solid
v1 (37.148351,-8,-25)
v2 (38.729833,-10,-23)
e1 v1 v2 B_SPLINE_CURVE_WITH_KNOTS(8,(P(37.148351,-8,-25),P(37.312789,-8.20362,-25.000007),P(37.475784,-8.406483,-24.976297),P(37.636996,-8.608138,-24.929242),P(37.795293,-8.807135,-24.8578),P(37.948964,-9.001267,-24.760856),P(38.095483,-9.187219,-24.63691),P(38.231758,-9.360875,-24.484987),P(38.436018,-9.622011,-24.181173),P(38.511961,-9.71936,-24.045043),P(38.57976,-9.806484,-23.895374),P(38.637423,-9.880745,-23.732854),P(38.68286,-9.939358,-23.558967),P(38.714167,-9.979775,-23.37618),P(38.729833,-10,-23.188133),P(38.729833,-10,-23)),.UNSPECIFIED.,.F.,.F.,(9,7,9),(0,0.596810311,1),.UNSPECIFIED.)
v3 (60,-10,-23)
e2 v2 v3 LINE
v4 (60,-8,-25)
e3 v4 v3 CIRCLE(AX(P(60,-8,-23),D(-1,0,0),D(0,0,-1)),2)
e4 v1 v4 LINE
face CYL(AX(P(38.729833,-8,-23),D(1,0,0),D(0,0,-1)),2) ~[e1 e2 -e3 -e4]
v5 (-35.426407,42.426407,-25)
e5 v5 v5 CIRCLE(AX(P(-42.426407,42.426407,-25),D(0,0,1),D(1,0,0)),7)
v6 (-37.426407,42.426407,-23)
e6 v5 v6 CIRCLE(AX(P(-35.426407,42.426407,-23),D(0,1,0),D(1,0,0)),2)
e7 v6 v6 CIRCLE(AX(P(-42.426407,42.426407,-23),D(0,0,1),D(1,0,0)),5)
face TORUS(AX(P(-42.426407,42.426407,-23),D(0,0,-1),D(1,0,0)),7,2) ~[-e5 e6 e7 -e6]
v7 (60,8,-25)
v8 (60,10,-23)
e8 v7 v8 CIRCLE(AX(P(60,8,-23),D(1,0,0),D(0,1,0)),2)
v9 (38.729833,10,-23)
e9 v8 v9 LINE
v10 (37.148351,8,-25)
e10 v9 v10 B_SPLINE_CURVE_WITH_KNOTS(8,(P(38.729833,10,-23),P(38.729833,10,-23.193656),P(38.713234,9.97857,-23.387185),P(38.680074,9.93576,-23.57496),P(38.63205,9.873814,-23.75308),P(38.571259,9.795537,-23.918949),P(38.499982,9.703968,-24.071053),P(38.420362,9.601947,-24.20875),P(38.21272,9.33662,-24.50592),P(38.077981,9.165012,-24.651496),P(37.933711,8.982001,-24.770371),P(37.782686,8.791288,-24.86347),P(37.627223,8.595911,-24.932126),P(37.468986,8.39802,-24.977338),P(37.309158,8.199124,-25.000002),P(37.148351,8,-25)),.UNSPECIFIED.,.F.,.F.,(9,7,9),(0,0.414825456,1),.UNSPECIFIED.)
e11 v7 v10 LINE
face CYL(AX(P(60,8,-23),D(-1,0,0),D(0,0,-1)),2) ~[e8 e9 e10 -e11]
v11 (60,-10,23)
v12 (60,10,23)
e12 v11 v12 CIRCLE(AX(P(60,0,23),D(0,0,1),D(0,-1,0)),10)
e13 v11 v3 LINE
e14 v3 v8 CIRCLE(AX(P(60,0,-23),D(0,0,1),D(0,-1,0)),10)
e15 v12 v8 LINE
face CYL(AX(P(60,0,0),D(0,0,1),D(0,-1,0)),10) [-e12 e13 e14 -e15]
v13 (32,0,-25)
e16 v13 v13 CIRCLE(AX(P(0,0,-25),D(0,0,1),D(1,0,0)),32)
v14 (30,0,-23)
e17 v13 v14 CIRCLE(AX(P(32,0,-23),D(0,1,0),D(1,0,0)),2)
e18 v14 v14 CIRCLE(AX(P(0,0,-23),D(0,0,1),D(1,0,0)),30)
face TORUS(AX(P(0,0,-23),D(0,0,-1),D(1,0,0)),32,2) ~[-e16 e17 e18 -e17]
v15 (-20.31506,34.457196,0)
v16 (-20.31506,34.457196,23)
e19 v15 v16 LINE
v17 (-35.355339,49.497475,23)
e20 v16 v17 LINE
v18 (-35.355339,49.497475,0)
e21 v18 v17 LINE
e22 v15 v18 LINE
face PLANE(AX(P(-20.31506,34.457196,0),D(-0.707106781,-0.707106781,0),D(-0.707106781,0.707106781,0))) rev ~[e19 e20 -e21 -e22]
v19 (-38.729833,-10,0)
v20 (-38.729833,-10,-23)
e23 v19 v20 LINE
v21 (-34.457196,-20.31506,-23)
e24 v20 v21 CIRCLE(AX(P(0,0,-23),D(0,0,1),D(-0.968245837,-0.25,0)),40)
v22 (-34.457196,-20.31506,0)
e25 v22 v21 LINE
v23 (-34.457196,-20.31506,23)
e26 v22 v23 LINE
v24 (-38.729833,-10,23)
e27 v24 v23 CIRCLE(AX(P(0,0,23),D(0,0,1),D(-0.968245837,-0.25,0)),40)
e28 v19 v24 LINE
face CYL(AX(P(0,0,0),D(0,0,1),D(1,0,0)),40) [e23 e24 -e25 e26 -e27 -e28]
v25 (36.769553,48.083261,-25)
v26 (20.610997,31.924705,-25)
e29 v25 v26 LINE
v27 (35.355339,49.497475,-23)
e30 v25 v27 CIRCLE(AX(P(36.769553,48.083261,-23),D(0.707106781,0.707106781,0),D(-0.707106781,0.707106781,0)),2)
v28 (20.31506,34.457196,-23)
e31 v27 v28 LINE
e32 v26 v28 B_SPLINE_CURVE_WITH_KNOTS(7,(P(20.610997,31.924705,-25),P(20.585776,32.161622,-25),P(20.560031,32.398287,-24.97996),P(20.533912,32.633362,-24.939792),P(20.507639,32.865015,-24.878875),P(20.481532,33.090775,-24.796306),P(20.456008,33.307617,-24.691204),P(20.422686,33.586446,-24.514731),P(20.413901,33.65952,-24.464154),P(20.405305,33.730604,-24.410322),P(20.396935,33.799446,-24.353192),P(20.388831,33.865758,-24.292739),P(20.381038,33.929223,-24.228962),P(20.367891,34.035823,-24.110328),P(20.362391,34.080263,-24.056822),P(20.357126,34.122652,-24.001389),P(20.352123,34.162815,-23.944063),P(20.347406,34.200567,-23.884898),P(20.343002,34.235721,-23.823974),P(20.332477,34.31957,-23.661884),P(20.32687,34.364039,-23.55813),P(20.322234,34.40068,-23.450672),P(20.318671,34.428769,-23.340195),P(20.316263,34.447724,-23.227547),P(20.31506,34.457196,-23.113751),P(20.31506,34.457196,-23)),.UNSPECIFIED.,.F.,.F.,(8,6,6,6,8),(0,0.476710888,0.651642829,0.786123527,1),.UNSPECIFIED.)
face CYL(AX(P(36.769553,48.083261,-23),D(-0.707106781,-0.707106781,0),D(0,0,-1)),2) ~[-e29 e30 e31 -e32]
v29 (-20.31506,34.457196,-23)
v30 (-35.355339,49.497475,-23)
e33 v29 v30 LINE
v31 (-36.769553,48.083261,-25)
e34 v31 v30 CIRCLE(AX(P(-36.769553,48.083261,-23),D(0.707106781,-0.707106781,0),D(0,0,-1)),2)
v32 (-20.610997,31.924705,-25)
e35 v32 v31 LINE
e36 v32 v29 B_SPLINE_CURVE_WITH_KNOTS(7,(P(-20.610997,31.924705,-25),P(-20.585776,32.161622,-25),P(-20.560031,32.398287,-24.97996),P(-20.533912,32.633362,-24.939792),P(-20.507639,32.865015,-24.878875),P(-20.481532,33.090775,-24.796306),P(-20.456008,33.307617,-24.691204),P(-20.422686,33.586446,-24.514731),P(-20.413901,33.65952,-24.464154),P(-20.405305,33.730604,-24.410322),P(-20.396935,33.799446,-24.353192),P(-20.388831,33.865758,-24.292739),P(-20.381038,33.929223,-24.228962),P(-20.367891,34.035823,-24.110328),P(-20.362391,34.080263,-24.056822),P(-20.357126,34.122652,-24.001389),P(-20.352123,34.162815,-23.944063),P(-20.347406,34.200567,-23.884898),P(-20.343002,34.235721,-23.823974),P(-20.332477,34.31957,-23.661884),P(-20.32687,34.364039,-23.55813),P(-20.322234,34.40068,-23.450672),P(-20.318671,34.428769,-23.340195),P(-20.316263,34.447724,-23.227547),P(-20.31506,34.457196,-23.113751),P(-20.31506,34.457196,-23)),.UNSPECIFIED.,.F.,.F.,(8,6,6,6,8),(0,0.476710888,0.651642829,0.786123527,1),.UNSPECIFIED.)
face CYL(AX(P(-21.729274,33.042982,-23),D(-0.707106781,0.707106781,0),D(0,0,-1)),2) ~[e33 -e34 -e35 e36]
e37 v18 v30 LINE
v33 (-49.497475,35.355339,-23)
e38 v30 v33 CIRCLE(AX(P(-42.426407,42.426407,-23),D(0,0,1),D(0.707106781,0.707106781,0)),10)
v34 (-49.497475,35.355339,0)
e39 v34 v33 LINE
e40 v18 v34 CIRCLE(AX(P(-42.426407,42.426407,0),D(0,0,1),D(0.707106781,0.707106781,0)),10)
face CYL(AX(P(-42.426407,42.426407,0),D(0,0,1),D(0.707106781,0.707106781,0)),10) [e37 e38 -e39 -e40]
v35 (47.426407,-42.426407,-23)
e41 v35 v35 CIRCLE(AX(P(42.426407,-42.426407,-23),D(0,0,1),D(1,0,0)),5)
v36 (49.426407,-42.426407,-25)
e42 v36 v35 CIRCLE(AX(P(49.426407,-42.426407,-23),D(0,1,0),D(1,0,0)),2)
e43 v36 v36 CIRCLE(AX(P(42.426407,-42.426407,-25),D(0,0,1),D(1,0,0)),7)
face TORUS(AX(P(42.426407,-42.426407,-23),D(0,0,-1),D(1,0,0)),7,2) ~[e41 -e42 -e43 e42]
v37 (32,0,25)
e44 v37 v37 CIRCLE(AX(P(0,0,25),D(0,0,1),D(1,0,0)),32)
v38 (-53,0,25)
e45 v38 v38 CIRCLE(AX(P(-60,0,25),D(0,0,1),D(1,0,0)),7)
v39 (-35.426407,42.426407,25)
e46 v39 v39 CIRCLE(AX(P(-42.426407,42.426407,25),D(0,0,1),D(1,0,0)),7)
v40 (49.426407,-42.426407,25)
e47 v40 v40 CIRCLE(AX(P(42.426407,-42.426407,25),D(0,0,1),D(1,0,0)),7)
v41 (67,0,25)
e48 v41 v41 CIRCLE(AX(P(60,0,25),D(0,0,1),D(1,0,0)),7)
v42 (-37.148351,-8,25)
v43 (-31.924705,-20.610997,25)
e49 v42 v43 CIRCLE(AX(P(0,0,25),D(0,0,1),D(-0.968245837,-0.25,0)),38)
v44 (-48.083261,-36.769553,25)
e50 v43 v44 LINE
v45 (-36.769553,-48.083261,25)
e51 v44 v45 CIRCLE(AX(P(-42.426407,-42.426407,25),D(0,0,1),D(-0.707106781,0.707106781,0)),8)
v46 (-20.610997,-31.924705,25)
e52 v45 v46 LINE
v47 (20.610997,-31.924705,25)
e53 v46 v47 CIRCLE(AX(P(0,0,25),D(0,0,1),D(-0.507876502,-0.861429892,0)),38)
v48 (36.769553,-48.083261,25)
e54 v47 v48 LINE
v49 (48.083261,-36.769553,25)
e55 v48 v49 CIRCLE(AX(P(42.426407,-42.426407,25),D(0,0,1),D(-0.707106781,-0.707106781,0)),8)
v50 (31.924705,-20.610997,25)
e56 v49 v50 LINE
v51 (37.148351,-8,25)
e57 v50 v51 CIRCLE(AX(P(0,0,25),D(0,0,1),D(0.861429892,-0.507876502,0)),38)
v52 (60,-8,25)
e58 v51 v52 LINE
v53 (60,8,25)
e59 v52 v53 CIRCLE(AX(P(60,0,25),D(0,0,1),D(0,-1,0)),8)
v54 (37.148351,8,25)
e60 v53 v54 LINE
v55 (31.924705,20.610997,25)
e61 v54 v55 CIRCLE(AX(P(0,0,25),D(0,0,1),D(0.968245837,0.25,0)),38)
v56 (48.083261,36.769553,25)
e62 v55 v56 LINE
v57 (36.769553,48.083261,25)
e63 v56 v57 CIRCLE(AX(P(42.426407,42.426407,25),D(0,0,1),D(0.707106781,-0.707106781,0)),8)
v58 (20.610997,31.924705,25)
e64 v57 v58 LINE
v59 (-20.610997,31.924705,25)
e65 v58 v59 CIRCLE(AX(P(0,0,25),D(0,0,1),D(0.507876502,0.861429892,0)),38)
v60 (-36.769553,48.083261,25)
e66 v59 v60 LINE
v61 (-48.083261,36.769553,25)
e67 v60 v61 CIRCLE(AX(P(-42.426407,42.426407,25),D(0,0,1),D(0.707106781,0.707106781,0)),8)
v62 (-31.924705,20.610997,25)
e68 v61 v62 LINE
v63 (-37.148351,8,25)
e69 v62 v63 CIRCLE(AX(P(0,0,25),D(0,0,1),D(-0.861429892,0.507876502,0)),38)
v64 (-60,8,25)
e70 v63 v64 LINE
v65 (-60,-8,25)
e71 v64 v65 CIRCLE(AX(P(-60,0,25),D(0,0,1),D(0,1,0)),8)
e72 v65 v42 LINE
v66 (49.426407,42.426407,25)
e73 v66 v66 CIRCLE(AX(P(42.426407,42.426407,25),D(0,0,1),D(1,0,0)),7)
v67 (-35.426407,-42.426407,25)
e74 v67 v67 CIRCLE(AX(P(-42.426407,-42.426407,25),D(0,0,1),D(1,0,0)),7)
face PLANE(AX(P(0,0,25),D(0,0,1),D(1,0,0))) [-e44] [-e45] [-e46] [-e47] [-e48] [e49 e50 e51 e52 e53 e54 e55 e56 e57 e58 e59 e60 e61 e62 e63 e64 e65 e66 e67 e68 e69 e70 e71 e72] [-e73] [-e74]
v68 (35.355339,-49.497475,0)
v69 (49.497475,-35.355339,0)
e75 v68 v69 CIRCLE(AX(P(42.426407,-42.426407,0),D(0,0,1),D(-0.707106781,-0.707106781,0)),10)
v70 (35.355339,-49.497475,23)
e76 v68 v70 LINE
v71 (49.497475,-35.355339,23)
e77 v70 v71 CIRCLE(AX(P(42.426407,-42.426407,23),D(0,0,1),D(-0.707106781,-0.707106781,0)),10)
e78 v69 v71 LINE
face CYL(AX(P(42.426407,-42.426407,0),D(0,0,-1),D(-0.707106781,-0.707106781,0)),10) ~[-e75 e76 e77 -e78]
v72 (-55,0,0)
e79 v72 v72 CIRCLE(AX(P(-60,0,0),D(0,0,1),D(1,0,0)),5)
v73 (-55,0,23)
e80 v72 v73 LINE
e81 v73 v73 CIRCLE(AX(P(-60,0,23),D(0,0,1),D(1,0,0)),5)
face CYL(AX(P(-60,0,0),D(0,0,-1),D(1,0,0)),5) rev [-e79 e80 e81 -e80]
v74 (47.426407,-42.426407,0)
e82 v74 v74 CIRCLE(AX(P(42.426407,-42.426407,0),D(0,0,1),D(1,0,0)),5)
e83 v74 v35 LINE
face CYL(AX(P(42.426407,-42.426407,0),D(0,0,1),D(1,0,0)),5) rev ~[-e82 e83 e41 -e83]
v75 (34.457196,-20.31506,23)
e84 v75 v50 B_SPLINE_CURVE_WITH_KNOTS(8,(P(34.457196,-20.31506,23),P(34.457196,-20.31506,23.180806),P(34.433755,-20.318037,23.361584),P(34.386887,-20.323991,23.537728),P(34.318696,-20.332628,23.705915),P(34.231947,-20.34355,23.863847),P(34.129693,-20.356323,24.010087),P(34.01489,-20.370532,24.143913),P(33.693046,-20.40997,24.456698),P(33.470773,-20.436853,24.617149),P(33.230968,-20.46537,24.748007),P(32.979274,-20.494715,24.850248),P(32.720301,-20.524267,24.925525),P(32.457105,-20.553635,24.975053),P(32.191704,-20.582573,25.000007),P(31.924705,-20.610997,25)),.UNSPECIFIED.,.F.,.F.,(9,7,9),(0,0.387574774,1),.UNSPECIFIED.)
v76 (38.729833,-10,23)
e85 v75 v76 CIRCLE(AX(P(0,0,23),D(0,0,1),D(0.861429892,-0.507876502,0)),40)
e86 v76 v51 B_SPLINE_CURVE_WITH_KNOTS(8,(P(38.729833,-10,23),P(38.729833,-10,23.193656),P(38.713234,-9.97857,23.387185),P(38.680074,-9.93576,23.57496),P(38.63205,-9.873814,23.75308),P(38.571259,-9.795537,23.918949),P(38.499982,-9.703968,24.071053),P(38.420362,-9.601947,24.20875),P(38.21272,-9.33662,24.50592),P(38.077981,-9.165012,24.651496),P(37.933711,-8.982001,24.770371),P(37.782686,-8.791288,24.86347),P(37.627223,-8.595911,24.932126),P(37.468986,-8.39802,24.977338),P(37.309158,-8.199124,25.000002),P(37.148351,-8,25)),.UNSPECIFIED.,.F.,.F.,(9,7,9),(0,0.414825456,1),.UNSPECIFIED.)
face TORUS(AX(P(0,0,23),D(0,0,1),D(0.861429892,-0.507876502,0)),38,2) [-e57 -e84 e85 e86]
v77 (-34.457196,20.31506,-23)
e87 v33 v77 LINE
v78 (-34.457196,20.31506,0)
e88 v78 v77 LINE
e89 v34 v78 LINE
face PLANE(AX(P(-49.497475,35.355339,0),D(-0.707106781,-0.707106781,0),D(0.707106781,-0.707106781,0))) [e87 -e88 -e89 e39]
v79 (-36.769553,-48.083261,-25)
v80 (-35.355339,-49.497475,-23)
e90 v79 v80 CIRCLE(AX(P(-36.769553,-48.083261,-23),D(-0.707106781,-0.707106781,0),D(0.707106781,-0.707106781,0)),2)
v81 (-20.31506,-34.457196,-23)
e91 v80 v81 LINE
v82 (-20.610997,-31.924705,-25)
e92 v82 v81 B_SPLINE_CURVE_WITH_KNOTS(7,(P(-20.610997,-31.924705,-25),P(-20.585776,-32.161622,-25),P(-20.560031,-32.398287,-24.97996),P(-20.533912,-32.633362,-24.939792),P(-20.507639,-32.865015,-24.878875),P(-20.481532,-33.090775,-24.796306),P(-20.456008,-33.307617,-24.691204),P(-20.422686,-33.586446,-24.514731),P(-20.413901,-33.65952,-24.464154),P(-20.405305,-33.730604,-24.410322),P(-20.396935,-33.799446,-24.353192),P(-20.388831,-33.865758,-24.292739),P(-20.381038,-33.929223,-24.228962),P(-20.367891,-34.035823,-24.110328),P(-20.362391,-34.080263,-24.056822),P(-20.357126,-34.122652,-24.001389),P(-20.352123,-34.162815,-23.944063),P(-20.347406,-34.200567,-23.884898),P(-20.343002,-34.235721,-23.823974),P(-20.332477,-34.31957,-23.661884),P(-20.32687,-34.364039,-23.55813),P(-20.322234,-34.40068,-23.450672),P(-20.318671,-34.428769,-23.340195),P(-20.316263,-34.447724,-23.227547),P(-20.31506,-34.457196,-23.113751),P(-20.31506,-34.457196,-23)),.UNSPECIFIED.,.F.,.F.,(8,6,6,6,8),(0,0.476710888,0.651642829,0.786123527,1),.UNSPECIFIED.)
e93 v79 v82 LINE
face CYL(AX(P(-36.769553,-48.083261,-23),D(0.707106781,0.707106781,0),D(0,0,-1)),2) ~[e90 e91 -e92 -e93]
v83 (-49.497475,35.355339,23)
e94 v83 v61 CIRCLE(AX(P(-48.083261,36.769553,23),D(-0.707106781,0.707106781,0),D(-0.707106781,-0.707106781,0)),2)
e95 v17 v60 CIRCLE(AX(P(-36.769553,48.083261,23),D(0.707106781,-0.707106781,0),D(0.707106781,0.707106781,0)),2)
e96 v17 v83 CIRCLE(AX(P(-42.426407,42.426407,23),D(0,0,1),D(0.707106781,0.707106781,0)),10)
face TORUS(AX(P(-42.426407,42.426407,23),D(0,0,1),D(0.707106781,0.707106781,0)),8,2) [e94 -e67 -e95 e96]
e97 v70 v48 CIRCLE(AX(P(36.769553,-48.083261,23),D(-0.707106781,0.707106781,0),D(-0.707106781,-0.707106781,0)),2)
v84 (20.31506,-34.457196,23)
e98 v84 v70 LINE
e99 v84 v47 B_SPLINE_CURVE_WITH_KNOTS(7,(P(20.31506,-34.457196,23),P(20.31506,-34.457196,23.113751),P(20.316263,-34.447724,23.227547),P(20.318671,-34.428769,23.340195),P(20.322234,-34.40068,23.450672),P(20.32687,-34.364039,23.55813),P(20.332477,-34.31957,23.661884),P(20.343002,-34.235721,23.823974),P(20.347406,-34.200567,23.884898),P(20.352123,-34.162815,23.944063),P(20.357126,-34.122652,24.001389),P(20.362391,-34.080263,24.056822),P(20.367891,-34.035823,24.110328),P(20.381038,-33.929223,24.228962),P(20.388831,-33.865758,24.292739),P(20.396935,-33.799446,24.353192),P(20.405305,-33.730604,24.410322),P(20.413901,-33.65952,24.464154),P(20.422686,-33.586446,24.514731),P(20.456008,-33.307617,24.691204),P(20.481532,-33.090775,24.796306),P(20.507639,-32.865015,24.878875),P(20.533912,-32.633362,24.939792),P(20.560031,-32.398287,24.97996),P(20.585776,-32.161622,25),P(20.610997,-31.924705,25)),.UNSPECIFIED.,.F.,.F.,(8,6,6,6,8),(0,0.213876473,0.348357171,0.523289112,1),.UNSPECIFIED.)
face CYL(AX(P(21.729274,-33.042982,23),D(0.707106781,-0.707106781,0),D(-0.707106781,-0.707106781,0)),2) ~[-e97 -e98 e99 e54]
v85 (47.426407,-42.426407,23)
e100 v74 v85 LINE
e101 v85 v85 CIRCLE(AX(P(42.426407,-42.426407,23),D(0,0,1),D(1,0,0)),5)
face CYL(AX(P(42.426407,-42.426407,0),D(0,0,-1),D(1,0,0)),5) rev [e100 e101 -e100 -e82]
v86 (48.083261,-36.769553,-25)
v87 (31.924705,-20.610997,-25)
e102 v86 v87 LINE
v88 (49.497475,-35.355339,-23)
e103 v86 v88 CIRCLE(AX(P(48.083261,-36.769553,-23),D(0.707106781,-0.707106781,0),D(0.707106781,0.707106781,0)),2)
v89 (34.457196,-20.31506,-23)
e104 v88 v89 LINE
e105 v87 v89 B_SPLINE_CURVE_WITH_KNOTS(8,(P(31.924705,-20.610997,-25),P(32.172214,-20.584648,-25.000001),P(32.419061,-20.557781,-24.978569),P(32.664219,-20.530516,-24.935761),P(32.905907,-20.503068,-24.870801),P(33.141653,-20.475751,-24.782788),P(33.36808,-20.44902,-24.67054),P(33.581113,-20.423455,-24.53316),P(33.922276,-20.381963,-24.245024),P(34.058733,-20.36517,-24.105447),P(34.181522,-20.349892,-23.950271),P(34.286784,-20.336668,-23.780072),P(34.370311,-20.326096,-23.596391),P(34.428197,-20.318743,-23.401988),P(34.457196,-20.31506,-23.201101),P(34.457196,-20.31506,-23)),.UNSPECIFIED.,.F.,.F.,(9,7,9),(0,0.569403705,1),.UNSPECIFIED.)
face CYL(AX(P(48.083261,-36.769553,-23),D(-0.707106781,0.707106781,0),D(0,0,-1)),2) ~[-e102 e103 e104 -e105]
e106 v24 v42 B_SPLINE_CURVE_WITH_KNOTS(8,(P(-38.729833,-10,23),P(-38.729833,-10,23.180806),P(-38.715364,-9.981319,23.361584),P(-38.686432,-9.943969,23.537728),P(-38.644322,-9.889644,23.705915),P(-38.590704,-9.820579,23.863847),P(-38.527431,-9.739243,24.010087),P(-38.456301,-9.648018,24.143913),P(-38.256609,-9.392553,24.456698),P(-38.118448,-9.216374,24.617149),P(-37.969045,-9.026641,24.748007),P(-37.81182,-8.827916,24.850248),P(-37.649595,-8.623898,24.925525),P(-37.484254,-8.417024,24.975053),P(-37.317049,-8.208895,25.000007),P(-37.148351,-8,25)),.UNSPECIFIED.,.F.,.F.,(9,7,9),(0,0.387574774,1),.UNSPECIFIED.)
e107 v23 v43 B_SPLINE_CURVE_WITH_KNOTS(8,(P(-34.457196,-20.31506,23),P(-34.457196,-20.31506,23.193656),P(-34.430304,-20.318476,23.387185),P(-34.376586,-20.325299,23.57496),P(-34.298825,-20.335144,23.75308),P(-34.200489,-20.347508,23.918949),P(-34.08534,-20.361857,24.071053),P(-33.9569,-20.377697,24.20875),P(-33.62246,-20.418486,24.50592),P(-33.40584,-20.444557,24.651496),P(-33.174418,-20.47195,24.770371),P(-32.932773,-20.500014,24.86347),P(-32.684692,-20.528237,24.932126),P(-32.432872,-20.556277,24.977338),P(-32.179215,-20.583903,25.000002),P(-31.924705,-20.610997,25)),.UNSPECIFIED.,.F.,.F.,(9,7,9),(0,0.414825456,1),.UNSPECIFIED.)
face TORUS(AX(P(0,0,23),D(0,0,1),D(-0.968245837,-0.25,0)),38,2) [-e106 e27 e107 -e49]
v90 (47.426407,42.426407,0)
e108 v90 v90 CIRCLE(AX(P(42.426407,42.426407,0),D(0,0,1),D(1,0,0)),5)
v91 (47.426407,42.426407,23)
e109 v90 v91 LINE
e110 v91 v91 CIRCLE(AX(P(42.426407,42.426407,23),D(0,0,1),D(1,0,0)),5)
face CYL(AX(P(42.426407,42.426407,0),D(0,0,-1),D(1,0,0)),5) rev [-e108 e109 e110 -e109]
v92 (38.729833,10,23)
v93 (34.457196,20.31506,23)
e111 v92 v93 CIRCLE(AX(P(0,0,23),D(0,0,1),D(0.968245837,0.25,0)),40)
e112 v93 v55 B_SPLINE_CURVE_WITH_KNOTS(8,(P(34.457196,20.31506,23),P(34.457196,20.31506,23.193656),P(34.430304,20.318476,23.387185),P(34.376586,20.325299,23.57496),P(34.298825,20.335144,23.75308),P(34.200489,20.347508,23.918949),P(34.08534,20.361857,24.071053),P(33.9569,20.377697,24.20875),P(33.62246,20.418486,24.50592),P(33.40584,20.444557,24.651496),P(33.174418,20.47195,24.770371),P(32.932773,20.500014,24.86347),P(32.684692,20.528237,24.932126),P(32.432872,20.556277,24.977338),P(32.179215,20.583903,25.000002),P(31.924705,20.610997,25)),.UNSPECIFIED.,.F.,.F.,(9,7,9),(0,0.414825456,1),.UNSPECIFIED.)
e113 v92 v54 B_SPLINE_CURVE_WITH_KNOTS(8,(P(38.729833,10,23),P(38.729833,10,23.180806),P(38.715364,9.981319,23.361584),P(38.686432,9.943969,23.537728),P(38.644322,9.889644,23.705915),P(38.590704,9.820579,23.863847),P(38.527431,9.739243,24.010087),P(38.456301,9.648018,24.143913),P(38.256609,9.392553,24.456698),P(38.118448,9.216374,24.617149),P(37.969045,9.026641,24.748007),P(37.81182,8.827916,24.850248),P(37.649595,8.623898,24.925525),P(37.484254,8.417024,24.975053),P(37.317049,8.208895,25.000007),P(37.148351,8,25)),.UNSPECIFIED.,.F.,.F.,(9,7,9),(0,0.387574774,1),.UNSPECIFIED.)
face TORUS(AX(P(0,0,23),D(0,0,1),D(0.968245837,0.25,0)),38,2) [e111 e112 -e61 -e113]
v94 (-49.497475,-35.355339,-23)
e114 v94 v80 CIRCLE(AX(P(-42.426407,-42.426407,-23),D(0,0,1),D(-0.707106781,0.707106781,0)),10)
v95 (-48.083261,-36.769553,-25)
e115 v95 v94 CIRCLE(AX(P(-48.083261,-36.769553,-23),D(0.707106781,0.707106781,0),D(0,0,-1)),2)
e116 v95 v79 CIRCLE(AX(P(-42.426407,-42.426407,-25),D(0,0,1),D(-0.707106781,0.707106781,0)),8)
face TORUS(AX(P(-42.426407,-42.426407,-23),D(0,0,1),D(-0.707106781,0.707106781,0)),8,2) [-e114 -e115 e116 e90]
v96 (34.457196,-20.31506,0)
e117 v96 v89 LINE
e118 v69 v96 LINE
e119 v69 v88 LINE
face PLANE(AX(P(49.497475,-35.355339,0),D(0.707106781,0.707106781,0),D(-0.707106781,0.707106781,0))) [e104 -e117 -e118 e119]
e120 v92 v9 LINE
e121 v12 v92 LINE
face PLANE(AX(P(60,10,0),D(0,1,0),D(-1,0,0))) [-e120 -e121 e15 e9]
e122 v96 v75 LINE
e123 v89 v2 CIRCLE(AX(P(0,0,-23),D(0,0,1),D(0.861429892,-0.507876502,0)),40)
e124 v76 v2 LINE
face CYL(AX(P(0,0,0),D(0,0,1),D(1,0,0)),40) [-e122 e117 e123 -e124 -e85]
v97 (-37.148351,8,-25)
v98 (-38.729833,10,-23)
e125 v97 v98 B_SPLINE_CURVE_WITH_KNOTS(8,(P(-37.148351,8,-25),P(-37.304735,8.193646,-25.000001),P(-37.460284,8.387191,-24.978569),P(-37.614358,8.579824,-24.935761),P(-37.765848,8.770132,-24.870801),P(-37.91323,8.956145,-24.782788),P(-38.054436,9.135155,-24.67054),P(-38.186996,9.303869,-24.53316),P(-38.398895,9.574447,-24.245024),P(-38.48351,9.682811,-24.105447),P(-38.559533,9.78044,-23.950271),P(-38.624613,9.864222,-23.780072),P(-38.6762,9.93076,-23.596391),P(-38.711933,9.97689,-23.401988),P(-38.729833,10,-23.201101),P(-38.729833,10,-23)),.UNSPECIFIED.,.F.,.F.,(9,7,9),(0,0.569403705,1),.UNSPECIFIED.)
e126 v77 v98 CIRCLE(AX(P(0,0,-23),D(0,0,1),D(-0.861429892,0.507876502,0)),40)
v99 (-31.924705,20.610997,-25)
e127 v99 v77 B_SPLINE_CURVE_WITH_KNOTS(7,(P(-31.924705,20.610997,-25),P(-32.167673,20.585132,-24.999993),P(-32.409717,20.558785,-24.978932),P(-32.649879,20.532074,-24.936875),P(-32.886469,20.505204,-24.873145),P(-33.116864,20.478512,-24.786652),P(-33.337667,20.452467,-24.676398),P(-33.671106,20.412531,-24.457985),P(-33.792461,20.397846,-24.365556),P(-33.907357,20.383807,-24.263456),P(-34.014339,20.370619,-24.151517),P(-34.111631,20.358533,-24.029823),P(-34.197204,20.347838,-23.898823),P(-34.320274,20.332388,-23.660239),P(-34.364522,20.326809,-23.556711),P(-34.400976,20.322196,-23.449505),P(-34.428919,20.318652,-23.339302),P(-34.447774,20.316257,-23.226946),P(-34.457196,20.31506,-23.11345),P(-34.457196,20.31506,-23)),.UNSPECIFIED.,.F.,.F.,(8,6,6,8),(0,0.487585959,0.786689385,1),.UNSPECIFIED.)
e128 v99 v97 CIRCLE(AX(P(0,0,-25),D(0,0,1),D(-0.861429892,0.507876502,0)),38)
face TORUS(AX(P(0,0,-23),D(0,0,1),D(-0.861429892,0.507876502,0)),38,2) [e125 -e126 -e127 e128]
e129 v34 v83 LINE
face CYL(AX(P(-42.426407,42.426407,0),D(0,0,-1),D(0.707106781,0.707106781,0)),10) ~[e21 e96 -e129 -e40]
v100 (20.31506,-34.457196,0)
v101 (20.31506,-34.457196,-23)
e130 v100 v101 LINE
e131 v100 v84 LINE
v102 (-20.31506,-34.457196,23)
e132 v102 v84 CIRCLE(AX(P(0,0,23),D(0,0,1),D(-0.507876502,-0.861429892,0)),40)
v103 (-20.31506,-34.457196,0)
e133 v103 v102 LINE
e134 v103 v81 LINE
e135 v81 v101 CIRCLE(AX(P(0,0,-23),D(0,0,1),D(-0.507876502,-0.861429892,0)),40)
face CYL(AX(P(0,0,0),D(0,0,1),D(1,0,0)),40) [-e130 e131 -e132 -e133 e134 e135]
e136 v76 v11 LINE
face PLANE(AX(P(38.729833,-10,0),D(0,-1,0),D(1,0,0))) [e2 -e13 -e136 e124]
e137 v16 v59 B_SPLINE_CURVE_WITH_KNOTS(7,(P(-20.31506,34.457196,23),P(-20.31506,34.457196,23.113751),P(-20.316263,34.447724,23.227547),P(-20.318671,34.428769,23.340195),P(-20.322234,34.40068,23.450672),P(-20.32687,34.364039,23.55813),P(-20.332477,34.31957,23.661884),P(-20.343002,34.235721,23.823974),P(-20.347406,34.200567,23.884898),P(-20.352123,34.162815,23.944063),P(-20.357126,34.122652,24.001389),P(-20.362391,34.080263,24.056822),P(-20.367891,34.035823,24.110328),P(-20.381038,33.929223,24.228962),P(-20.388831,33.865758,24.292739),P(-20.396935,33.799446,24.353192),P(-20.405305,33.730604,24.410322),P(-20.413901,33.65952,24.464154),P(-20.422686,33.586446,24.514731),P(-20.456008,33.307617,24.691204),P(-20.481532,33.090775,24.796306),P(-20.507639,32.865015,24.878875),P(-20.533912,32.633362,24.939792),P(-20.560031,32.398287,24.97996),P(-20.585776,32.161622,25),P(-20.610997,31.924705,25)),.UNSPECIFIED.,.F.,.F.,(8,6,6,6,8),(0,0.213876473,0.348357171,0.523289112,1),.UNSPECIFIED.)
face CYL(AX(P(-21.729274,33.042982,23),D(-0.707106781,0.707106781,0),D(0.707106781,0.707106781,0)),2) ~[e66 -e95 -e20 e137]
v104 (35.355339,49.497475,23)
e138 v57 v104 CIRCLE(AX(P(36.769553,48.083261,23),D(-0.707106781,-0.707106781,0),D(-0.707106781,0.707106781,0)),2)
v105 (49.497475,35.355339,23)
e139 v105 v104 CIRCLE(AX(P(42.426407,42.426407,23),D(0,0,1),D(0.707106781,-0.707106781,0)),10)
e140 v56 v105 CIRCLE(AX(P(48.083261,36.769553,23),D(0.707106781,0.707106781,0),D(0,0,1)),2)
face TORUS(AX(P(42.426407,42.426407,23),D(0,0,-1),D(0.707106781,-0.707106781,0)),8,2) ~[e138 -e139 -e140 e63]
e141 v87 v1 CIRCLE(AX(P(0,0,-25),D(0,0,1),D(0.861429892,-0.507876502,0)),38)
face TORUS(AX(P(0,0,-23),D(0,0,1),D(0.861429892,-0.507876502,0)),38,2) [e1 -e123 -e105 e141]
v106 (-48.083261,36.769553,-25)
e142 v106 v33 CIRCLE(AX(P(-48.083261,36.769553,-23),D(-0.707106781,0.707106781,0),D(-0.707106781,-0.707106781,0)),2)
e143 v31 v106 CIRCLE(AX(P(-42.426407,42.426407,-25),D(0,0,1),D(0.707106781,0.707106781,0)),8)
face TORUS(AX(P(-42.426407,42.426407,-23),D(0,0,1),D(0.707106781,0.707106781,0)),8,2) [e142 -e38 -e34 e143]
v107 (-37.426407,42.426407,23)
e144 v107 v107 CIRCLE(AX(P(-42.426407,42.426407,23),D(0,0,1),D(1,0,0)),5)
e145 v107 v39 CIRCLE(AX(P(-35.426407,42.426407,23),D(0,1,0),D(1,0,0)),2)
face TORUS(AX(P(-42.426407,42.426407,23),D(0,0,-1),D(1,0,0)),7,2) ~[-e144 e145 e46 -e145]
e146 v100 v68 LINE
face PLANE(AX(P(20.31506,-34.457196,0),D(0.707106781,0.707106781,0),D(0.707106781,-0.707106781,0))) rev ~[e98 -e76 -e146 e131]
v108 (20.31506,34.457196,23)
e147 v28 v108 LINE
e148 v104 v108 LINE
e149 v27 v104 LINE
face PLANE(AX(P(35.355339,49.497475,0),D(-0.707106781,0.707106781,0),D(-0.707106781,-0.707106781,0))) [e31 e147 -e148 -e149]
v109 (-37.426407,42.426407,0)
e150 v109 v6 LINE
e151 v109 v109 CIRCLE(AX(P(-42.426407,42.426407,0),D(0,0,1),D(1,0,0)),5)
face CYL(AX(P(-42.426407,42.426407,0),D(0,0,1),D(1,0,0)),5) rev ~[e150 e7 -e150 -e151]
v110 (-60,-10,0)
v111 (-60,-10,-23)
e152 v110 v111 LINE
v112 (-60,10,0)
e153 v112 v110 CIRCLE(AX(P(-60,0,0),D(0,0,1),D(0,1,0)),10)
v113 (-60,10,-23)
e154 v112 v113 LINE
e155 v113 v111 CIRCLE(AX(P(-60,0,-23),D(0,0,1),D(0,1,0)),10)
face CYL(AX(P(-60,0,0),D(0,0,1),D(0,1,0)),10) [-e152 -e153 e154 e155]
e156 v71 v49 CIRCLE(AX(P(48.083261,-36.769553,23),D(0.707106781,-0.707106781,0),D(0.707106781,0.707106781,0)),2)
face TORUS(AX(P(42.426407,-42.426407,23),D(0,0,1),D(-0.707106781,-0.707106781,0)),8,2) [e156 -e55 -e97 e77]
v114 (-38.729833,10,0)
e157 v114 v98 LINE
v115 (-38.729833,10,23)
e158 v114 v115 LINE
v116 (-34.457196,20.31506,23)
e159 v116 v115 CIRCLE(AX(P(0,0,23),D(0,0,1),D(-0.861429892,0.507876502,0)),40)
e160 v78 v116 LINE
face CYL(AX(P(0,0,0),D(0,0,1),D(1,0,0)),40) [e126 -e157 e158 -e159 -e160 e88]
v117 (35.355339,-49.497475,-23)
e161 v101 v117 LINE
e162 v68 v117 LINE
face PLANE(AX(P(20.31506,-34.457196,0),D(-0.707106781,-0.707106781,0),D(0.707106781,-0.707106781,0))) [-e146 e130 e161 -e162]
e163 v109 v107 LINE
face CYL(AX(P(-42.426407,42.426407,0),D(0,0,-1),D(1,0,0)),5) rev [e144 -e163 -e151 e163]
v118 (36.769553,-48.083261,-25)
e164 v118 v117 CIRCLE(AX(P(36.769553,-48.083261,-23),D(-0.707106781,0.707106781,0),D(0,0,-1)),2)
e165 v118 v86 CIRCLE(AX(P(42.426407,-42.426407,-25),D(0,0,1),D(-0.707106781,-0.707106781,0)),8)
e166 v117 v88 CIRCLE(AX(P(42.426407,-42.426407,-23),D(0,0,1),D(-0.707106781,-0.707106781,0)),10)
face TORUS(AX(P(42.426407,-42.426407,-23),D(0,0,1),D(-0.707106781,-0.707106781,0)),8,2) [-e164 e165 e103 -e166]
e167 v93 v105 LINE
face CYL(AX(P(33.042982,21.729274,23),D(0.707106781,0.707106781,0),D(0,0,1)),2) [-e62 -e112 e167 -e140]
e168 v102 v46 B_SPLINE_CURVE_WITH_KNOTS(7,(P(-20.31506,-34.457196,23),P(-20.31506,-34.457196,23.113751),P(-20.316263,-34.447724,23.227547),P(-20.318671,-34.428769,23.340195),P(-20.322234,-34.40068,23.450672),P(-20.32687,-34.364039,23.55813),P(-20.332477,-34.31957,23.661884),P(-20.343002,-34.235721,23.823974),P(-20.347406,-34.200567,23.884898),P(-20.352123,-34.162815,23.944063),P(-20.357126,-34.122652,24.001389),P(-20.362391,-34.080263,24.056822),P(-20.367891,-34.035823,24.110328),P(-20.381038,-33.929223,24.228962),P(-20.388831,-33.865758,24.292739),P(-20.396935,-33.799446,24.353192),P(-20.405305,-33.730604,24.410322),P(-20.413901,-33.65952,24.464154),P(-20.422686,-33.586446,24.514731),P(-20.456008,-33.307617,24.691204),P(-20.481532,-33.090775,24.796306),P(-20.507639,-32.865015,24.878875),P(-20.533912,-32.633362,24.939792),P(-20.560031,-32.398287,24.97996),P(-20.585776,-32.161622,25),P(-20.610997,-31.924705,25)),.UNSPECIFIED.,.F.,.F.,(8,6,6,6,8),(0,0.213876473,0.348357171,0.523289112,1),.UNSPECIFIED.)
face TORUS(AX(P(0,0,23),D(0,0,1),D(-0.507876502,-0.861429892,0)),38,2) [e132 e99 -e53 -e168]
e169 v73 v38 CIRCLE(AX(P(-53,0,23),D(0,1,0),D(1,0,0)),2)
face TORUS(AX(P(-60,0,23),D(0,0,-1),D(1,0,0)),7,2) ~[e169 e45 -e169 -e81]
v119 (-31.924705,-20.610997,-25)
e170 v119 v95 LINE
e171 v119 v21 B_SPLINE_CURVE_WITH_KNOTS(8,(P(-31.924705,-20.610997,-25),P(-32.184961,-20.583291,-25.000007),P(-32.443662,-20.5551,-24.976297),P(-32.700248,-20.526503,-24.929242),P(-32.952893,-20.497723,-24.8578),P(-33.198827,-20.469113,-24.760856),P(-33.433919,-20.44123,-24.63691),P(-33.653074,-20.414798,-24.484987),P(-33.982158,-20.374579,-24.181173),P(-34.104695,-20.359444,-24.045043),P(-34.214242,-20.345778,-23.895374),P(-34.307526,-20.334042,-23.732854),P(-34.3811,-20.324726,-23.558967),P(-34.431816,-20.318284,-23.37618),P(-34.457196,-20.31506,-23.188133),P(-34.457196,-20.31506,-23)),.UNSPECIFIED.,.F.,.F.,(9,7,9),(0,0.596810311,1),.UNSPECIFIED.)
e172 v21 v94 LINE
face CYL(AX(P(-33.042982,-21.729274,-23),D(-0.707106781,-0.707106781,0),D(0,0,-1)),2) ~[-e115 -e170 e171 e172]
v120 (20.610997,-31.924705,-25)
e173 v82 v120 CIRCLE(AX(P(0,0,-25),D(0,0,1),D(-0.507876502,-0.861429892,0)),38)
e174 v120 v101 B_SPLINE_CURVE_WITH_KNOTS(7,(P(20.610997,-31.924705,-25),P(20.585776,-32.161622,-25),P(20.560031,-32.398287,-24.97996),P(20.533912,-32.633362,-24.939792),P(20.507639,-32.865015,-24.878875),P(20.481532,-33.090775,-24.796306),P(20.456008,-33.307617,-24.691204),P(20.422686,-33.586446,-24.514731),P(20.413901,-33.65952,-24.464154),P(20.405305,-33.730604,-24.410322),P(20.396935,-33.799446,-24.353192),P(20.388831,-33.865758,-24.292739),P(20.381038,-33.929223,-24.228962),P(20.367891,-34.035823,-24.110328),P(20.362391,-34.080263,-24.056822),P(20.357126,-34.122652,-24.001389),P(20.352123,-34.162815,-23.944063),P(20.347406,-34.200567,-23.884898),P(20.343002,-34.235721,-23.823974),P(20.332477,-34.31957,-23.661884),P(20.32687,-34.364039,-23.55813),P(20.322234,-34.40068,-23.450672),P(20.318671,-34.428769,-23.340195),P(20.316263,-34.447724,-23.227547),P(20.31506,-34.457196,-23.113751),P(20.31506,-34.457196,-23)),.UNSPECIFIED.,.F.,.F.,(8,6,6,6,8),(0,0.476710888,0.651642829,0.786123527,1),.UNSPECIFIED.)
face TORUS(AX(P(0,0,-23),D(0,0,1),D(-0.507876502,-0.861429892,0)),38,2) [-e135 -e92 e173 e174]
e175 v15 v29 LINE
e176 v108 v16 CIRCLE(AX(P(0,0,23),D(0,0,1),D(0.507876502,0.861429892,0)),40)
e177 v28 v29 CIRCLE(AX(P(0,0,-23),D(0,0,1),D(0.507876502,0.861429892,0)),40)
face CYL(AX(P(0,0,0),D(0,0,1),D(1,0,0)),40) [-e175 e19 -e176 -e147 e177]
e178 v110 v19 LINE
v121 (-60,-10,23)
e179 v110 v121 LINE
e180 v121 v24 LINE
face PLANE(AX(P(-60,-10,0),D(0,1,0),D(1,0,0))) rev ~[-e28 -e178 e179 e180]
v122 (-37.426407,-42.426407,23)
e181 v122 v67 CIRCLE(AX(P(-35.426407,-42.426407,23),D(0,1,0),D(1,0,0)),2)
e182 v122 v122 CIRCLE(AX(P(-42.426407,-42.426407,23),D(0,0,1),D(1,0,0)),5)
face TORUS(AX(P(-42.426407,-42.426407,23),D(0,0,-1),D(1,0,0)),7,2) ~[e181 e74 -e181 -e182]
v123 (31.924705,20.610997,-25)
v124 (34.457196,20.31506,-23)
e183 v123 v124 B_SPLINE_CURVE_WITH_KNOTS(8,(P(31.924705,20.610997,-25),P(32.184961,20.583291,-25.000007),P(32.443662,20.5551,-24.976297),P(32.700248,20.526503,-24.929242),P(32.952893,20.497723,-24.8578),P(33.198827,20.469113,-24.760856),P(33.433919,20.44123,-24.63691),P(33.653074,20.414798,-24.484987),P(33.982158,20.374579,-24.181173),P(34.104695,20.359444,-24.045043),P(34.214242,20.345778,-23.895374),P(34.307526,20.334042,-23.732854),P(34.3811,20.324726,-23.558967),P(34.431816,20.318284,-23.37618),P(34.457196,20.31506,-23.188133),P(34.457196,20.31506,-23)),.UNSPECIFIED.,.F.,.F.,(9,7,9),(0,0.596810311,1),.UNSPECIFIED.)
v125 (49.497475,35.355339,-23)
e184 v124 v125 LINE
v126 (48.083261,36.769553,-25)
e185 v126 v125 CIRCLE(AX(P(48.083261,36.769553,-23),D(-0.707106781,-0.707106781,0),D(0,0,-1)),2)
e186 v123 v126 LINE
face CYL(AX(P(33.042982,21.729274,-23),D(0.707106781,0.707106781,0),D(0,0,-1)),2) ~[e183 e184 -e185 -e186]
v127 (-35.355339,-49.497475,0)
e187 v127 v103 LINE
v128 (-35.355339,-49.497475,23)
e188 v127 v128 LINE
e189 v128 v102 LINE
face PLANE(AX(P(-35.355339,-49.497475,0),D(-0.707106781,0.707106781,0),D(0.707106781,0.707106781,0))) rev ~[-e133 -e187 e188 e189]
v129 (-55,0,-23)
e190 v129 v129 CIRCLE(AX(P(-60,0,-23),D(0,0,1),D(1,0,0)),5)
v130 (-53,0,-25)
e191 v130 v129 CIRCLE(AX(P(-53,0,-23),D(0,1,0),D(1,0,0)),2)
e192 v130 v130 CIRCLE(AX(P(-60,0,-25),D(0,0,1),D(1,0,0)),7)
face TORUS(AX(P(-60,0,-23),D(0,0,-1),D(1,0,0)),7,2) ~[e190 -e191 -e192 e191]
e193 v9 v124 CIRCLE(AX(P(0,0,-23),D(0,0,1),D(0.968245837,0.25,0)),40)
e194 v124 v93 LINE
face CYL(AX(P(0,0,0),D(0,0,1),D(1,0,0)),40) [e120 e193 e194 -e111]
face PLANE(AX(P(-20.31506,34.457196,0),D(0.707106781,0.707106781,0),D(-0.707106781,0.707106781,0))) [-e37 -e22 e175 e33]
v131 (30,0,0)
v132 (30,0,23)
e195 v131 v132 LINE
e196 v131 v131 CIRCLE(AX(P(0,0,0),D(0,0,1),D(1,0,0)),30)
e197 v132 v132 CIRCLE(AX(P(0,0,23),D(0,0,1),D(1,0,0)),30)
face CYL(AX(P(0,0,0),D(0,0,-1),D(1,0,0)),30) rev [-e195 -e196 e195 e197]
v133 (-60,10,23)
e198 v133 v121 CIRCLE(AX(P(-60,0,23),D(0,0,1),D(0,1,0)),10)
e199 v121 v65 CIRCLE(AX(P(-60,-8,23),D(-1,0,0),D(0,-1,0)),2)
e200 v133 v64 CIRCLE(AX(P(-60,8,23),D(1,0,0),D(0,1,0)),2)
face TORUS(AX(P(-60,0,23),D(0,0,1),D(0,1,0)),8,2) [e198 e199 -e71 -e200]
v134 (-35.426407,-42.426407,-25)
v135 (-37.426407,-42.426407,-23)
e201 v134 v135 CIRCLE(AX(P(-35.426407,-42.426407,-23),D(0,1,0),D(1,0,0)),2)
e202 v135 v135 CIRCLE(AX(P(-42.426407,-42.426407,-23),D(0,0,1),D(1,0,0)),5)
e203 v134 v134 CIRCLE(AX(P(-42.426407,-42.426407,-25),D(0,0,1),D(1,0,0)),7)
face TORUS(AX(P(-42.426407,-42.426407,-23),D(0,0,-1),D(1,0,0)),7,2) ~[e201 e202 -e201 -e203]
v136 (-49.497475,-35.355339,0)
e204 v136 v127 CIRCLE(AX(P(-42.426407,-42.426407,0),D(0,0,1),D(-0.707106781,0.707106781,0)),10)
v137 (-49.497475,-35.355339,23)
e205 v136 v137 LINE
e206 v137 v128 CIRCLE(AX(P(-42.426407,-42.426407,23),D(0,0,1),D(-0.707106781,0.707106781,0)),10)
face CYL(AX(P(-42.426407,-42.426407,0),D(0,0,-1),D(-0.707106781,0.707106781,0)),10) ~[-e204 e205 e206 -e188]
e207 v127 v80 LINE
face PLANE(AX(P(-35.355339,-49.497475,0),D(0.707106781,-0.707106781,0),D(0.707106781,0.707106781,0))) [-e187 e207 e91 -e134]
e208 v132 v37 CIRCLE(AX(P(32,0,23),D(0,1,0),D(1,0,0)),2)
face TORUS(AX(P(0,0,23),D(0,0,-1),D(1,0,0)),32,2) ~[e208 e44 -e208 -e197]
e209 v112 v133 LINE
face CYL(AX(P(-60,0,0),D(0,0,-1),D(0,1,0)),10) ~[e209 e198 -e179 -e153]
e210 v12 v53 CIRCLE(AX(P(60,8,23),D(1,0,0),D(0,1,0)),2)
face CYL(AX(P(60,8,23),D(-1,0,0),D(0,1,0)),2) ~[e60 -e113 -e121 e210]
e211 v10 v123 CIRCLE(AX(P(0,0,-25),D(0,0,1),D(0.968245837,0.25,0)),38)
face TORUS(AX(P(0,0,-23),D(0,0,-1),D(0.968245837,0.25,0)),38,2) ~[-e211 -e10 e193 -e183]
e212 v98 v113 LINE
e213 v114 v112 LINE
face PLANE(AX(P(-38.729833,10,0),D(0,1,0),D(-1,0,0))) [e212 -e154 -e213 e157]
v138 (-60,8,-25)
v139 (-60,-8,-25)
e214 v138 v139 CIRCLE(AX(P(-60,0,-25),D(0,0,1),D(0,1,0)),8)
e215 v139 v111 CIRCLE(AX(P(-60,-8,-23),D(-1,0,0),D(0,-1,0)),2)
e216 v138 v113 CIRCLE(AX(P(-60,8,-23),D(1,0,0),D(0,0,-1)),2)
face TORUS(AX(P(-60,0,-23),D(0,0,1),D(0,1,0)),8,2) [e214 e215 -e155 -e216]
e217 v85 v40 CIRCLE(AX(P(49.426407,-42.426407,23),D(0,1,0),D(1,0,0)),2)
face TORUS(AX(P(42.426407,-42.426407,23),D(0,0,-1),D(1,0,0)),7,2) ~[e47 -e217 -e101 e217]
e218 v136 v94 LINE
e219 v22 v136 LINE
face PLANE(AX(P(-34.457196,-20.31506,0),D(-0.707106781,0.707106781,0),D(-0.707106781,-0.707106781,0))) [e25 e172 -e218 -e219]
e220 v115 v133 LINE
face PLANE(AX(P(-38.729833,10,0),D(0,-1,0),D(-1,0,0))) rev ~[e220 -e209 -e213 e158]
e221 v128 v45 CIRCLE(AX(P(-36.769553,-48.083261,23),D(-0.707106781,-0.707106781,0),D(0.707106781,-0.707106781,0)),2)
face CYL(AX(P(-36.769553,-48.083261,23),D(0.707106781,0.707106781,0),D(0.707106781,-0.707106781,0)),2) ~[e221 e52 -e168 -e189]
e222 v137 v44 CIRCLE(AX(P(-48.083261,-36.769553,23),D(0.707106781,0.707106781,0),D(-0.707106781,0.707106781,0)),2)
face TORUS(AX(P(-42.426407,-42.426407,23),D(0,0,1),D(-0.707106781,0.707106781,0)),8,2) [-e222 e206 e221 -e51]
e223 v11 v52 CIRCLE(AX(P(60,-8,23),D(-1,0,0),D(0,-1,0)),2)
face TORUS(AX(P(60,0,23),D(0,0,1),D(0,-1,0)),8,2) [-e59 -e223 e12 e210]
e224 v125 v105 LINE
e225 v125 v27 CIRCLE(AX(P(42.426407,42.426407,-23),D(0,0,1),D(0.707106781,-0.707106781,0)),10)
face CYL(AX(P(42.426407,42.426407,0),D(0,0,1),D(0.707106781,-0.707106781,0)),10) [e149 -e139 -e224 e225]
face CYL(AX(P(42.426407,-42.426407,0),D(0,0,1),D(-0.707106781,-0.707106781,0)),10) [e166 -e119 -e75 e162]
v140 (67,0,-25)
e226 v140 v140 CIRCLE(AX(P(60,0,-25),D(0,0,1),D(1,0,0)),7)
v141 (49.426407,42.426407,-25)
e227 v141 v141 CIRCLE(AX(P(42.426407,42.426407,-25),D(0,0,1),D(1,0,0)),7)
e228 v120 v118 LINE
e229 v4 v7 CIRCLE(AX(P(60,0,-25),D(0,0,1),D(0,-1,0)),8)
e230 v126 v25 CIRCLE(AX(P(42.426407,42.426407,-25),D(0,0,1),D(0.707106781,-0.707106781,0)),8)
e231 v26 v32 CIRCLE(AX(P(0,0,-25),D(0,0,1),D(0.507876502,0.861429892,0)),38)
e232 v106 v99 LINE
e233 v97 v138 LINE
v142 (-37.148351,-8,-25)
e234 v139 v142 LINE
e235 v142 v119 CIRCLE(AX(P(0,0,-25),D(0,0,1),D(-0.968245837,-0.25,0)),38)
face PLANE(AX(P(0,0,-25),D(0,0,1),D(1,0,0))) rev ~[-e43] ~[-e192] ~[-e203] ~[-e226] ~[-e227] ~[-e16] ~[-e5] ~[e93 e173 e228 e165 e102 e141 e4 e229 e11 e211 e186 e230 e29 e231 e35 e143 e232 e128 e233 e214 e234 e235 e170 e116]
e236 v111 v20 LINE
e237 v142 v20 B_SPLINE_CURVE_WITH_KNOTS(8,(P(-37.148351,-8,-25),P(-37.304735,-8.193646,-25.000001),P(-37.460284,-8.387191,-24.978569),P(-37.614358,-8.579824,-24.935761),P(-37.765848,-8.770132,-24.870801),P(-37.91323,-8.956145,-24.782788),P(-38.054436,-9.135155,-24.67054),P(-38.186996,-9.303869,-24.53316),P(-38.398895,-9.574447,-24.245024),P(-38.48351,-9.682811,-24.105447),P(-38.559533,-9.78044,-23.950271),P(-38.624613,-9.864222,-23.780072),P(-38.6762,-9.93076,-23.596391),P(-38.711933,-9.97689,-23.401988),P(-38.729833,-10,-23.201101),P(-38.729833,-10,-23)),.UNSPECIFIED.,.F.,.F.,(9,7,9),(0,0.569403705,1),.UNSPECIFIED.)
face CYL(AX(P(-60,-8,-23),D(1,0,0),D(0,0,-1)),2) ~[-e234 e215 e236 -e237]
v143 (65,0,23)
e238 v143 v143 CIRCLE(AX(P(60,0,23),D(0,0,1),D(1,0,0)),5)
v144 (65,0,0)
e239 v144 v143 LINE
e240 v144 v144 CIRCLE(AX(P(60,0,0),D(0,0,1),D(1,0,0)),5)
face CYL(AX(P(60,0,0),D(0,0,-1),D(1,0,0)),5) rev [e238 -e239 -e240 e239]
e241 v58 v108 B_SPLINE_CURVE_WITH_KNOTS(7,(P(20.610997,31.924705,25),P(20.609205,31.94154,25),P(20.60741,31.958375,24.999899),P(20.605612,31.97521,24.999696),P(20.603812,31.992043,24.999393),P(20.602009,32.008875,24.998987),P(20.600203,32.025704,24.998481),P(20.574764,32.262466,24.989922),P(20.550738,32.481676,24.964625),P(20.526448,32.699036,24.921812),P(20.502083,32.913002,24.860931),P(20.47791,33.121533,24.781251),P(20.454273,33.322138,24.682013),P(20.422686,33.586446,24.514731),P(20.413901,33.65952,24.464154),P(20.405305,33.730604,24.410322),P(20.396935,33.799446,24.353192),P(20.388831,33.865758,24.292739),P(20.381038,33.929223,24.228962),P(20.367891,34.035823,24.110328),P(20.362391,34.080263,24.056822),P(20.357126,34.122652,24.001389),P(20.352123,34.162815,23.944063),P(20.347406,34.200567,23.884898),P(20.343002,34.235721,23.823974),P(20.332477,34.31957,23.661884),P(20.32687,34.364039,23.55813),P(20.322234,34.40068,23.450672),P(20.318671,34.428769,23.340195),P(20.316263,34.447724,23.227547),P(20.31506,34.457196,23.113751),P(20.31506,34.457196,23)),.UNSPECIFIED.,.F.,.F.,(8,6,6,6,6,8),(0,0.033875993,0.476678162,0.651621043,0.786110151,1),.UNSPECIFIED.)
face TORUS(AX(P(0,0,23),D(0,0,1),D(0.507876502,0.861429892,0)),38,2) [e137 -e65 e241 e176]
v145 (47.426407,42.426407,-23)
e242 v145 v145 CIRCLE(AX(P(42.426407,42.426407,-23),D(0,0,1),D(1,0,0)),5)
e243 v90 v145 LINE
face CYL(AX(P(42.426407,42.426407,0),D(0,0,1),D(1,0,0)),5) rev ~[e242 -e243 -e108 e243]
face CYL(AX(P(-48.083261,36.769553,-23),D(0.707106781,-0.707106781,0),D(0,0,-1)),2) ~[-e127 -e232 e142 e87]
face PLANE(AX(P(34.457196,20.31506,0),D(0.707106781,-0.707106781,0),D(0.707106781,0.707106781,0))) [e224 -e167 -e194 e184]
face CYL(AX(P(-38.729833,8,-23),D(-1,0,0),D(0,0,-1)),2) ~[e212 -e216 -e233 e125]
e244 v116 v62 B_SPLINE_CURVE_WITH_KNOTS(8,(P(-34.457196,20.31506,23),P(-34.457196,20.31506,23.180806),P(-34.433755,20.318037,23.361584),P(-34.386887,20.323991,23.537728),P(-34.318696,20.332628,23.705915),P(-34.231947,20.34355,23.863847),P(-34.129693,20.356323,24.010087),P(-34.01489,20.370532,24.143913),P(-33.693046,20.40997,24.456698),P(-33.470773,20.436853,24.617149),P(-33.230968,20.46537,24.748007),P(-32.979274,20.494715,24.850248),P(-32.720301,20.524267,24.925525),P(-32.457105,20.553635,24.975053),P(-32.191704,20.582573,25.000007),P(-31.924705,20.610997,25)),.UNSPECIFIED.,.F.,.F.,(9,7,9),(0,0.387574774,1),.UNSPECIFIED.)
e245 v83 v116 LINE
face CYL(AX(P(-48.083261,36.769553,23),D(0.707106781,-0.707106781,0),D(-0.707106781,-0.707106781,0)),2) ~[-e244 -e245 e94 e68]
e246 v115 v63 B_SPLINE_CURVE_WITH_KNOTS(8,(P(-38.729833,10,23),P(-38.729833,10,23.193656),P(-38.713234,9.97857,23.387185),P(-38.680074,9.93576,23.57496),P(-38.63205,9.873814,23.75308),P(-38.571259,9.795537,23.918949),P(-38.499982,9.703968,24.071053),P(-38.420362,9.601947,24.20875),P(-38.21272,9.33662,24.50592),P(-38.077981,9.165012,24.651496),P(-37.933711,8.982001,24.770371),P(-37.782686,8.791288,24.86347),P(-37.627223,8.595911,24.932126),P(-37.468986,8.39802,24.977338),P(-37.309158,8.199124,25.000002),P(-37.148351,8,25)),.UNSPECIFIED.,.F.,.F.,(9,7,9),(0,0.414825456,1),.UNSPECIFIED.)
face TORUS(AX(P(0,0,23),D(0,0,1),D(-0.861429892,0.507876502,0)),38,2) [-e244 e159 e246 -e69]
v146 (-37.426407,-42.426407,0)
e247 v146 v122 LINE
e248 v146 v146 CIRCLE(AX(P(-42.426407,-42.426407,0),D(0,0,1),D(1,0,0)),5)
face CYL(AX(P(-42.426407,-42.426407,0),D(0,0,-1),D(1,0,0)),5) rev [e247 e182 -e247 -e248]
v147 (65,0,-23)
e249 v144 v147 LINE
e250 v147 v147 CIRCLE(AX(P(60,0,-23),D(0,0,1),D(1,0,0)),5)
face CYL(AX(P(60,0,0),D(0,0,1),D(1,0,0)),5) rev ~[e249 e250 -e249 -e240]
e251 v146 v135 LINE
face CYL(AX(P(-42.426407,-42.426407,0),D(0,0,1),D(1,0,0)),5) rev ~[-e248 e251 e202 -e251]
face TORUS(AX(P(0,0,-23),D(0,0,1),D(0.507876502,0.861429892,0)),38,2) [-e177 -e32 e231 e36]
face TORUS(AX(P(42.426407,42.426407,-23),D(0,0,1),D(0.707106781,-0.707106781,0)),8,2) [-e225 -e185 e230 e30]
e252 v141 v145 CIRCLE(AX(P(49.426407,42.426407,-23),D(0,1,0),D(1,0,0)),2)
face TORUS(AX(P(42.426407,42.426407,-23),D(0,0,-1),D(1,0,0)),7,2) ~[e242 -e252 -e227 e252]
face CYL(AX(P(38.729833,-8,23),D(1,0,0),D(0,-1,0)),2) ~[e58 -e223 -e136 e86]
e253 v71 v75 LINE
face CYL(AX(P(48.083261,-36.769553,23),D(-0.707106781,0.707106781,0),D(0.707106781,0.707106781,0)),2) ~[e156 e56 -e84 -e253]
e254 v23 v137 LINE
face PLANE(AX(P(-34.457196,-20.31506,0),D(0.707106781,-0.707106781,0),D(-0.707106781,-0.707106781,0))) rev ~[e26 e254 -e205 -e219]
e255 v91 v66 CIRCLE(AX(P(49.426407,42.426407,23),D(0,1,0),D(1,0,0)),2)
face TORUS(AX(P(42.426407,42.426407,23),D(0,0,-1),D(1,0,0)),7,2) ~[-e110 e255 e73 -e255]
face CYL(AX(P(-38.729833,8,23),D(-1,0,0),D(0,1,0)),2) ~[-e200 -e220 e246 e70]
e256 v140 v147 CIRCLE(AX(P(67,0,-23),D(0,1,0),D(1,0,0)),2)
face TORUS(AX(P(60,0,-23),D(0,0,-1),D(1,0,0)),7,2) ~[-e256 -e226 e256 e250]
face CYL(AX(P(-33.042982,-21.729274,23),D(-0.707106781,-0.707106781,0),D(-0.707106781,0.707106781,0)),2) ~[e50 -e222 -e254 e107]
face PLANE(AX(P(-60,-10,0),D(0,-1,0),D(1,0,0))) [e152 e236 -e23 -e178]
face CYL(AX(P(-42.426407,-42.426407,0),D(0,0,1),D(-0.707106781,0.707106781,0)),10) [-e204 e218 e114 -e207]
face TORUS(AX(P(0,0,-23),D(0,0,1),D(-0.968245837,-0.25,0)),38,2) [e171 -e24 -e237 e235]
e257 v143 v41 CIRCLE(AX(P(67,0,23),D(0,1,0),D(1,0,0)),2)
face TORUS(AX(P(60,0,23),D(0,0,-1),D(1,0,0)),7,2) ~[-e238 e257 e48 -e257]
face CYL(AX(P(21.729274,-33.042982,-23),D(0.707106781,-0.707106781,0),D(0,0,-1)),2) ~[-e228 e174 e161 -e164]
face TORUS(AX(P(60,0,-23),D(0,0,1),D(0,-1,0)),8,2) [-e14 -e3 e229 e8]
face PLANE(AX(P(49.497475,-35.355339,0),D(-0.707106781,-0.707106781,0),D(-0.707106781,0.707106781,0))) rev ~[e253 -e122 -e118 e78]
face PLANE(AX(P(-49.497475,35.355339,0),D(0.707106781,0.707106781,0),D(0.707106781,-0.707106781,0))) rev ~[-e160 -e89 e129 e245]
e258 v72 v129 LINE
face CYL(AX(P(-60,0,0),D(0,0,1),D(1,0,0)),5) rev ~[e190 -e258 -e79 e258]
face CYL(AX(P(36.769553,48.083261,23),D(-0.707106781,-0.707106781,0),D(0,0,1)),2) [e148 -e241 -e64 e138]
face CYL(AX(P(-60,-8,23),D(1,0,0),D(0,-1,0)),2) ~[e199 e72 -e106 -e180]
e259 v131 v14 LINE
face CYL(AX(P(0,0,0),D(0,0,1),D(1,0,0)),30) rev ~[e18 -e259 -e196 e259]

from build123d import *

# Parameters (mm, degrees)
SKETCH1_R           = 5
SKETCH1_R_2         = 40
SKETCH1_R_3         = 30
BOSS_EXTRUDE1_DEPTH = 25
FILLET1_R           = 2


with BuildPart() as part:
    # Sketch1 → Boss-Extrude1 (new, symmetric)
    # profile 1 of 7: a face of its own
    with BuildSketch(Plane.XY):
        with BuildLine():
            ThreePointArc((-34.457195687, 20.315060063), (-28.284271247, 28.284271247), (-20.315060063, 34.457195687))
            Line((-20.315060063, 34.457195687), (-35.355339059, 49.497474683))
            ThreePointArc((-35.355339059, 49.497474683), (-49.497474683, 49.497474683), (-49.497474683, 35.355339059))
            Line((-49.497474683, 35.355339059), (-34.457195687, 20.315060063))
        make_face()
        with Locations((-42.426406871, 42.426406871)):
            Circle(SKETCH1_R, mode=Mode.SUBTRACT)
    # profile 2 of 7: a face of its own
    with BuildSketch(Plane.XY):
        with BuildLine():
            ThreePointArc((-38.729833462, -10), (-40, 0), (-38.729833462, 10))
            Line((-38.729833462, 10), (-60, 10))
            ThreePointArc((-60, 10), (-70, 0), (-60, -10))
            Line((-60, -10), (-38.729833462, -10))
        make_face()
        with Locations((-60, 0)):
            Circle(SKETCH1_R, mode=Mode.SUBTRACT)
    # profile 3 of 7: a face of its own
    with BuildSketch(Plane.XY):
        with BuildLine():
            Line((-35.355339059, -49.497474683), (-20.315060063, -34.457195687))
            ThreePointArc((-20.315060063, -34.457195687), (-28.284271247, -28.284271247), (-34.457195687, -20.315060063))
            Line((-34.457195687, -20.315060063), (-49.497474683, -35.355339059))
            ThreePointArc((-49.497474683, -35.355339059), (-49.497474683, -49.497474683), (-35.355339059, -49.497474683))
        make_face()
        with Locations((-42.426406871, -42.426406871)):
            Circle(SKETCH1_R, mode=Mode.SUBTRACT)
    # profile 4 of 7: a face of its own
    with BuildSketch(Plane.XY):
        with BuildLine():
            Line((49.497474683, -35.355339059), (34.457195687, -20.315060063))
            ThreePointArc((34.457195687, -20.315060063), (28.284271247, -28.284271247), (20.315060063, -34.457195687))
            Line((20.315060063, -34.457195687), (35.355339059, -49.497474683))
            ThreePointArc((35.355339059, -49.497474683), (49.497474683, -49.497474683), (49.497474683, -35.355339059))
        make_face()
        with Locations((42.426406871, -42.426406871)):
            Circle(SKETCH1_R, mode=Mode.SUBTRACT)
    # profile 5 of 7: a face of its own
    with BuildSketch(Plane.XY):
        with BuildLine():
            Line((60, 10), (38.729833462, 10))
            ThreePointArc((38.729833462, 10), (39.681187851, 5.040171699), (40, 0))
            ThreePointArc((40, 0), (39.681187851, -5.040171699), (38.729833462, -10))
            Line((38.729833462, -10), (60, -10))
            ThreePointArc((60, -10), (70, 0), (60, 10))
        make_face()
        with Locations((60, 0)):
            Circle(SKETCH1_R, mode=Mode.SUBTRACT)
    # profile 6 of 7: a face of its own
    with BuildSketch(Plane.XY):
        with BuildLine():
            ThreePointArc((20.315060063, 34.457195687), (28.284271247, 28.284271247), (34.457195687, 20.315060063))
            Line((34.457195687, 20.315060063), (49.497474683, 35.355339059))
            ThreePointArc((49.497474683, 35.355339059), (49.497474683, 49.497474683), (35.355339059, 49.497474683))
            Line((35.355339059, 49.497474683), (20.315060063, 34.457195687))
        make_face()
        with Locations((42.426406871, 42.426406871)):
            Circle(SKETCH1_R, mode=Mode.SUBTRACT)
    # profile 7 of 7: a face of its own
    with BuildSketch(Plane.XY):
        Circle(SKETCH1_R_2)
        Circle(SKETCH1_R_3, mode=Mode.SUBTRACT)
    extrude(amount=BOSS_EXTRUDE1_DEPTH, both=True)

    # Fillet1
    fillet1_edges = [part.edges().sort_by_distance(p)[0] for p in [
        (36.9551813, 15.307337295, 25),
        (41.977335185, 27.835199561, 25),
        (49.497474683, 49.497474683, 25),
        (27.835199561, 41.977335185, 25),
        (0, 40, 25),
        (-47.426406871, 42.426406871, 25),
        (-27.835199561, 41.977335185, 25),
        (-30, 0, 25),
        (37.426406871, 42.426406871, 25),
        (55, 0, 25),
        (37.426406871, -42.426406871, 25),
        (-47.426406871, -42.426406871, 25),
        (-65, 0, 25),
        (-49.497474683, 49.497474683, 25),
        (-41.977335185, 27.835199561, 25),
        (-36.9551813, 15.307337295, 25),
        (-49.364916731, 10, 25),
        (-65, 0, -25),
        (-47.426406871, -42.426406871, -25),
        (37.426406871, -42.426406871, -25),
        (55, 0, -25),
        (37.426406871, 42.426406871, -25),
        (-30, 0, -25),
        (-27.835199561, 41.977335185, -25),
        (0, 40, -25),
        (27.835199561, 41.977335185, -25),
        (-70, 0, 25),
        (49.497474683, 49.497474683, -25),
        (41.977335185, 27.835199561, -25),
        (36.9551813, 15.307337295, -25),
        (49.364916731, 10, -25),
        (70, 0, -25),
        (49.364916731, -10, -25),
        (36.9551813, -15.307337295, -25),
        (41.977335185, -27.835199561, -25),
        (49.497474683, -49.497474683, -25),
        (27.835199561, -41.977335185, -25),
        (-49.364916731, -10, 25),
        (0, -40, -25),
        (-27.835199561, -41.977335185, -25),
        (-49.497474683, -49.497474683, -25),
        (-41.977335185, -27.835199561, -25),
        (-36.9551813, -15.307337295, -25),
        (-49.364916731, -10, -25),
        (-70, 0, -25),
        (-49.364916731, 10, -25),
        (-36.9551813, 15.307337295, -25),
        (-41.977335185, 27.835199561, -25),
        (-36.9551813, -15.307337295, 25),
        (-49.497474683, 49.497474683, -25),
        (-47.426406871, 42.426406871, -25),
        (-41.977335185, -27.835199561, 25),
        (-49.497474683, -49.497474683, 25),
        (-27.835199561, -41.977335185, 25),
        (0, -40, 25),
        (27.835199561, -41.977335185, 25),
        (49.497474683, -49.497474683, 25),
        (41.977335185, -27.835199561, 25),
        (36.9551813, -15.307337295, 25),
        (49.364916731, -10, 25),
        (70, 0, 25),
        (49.364916731, 10, 25),
    ]]
    fillet(fillet1_edges, radius=FILLET1_R)


solid = part.part
